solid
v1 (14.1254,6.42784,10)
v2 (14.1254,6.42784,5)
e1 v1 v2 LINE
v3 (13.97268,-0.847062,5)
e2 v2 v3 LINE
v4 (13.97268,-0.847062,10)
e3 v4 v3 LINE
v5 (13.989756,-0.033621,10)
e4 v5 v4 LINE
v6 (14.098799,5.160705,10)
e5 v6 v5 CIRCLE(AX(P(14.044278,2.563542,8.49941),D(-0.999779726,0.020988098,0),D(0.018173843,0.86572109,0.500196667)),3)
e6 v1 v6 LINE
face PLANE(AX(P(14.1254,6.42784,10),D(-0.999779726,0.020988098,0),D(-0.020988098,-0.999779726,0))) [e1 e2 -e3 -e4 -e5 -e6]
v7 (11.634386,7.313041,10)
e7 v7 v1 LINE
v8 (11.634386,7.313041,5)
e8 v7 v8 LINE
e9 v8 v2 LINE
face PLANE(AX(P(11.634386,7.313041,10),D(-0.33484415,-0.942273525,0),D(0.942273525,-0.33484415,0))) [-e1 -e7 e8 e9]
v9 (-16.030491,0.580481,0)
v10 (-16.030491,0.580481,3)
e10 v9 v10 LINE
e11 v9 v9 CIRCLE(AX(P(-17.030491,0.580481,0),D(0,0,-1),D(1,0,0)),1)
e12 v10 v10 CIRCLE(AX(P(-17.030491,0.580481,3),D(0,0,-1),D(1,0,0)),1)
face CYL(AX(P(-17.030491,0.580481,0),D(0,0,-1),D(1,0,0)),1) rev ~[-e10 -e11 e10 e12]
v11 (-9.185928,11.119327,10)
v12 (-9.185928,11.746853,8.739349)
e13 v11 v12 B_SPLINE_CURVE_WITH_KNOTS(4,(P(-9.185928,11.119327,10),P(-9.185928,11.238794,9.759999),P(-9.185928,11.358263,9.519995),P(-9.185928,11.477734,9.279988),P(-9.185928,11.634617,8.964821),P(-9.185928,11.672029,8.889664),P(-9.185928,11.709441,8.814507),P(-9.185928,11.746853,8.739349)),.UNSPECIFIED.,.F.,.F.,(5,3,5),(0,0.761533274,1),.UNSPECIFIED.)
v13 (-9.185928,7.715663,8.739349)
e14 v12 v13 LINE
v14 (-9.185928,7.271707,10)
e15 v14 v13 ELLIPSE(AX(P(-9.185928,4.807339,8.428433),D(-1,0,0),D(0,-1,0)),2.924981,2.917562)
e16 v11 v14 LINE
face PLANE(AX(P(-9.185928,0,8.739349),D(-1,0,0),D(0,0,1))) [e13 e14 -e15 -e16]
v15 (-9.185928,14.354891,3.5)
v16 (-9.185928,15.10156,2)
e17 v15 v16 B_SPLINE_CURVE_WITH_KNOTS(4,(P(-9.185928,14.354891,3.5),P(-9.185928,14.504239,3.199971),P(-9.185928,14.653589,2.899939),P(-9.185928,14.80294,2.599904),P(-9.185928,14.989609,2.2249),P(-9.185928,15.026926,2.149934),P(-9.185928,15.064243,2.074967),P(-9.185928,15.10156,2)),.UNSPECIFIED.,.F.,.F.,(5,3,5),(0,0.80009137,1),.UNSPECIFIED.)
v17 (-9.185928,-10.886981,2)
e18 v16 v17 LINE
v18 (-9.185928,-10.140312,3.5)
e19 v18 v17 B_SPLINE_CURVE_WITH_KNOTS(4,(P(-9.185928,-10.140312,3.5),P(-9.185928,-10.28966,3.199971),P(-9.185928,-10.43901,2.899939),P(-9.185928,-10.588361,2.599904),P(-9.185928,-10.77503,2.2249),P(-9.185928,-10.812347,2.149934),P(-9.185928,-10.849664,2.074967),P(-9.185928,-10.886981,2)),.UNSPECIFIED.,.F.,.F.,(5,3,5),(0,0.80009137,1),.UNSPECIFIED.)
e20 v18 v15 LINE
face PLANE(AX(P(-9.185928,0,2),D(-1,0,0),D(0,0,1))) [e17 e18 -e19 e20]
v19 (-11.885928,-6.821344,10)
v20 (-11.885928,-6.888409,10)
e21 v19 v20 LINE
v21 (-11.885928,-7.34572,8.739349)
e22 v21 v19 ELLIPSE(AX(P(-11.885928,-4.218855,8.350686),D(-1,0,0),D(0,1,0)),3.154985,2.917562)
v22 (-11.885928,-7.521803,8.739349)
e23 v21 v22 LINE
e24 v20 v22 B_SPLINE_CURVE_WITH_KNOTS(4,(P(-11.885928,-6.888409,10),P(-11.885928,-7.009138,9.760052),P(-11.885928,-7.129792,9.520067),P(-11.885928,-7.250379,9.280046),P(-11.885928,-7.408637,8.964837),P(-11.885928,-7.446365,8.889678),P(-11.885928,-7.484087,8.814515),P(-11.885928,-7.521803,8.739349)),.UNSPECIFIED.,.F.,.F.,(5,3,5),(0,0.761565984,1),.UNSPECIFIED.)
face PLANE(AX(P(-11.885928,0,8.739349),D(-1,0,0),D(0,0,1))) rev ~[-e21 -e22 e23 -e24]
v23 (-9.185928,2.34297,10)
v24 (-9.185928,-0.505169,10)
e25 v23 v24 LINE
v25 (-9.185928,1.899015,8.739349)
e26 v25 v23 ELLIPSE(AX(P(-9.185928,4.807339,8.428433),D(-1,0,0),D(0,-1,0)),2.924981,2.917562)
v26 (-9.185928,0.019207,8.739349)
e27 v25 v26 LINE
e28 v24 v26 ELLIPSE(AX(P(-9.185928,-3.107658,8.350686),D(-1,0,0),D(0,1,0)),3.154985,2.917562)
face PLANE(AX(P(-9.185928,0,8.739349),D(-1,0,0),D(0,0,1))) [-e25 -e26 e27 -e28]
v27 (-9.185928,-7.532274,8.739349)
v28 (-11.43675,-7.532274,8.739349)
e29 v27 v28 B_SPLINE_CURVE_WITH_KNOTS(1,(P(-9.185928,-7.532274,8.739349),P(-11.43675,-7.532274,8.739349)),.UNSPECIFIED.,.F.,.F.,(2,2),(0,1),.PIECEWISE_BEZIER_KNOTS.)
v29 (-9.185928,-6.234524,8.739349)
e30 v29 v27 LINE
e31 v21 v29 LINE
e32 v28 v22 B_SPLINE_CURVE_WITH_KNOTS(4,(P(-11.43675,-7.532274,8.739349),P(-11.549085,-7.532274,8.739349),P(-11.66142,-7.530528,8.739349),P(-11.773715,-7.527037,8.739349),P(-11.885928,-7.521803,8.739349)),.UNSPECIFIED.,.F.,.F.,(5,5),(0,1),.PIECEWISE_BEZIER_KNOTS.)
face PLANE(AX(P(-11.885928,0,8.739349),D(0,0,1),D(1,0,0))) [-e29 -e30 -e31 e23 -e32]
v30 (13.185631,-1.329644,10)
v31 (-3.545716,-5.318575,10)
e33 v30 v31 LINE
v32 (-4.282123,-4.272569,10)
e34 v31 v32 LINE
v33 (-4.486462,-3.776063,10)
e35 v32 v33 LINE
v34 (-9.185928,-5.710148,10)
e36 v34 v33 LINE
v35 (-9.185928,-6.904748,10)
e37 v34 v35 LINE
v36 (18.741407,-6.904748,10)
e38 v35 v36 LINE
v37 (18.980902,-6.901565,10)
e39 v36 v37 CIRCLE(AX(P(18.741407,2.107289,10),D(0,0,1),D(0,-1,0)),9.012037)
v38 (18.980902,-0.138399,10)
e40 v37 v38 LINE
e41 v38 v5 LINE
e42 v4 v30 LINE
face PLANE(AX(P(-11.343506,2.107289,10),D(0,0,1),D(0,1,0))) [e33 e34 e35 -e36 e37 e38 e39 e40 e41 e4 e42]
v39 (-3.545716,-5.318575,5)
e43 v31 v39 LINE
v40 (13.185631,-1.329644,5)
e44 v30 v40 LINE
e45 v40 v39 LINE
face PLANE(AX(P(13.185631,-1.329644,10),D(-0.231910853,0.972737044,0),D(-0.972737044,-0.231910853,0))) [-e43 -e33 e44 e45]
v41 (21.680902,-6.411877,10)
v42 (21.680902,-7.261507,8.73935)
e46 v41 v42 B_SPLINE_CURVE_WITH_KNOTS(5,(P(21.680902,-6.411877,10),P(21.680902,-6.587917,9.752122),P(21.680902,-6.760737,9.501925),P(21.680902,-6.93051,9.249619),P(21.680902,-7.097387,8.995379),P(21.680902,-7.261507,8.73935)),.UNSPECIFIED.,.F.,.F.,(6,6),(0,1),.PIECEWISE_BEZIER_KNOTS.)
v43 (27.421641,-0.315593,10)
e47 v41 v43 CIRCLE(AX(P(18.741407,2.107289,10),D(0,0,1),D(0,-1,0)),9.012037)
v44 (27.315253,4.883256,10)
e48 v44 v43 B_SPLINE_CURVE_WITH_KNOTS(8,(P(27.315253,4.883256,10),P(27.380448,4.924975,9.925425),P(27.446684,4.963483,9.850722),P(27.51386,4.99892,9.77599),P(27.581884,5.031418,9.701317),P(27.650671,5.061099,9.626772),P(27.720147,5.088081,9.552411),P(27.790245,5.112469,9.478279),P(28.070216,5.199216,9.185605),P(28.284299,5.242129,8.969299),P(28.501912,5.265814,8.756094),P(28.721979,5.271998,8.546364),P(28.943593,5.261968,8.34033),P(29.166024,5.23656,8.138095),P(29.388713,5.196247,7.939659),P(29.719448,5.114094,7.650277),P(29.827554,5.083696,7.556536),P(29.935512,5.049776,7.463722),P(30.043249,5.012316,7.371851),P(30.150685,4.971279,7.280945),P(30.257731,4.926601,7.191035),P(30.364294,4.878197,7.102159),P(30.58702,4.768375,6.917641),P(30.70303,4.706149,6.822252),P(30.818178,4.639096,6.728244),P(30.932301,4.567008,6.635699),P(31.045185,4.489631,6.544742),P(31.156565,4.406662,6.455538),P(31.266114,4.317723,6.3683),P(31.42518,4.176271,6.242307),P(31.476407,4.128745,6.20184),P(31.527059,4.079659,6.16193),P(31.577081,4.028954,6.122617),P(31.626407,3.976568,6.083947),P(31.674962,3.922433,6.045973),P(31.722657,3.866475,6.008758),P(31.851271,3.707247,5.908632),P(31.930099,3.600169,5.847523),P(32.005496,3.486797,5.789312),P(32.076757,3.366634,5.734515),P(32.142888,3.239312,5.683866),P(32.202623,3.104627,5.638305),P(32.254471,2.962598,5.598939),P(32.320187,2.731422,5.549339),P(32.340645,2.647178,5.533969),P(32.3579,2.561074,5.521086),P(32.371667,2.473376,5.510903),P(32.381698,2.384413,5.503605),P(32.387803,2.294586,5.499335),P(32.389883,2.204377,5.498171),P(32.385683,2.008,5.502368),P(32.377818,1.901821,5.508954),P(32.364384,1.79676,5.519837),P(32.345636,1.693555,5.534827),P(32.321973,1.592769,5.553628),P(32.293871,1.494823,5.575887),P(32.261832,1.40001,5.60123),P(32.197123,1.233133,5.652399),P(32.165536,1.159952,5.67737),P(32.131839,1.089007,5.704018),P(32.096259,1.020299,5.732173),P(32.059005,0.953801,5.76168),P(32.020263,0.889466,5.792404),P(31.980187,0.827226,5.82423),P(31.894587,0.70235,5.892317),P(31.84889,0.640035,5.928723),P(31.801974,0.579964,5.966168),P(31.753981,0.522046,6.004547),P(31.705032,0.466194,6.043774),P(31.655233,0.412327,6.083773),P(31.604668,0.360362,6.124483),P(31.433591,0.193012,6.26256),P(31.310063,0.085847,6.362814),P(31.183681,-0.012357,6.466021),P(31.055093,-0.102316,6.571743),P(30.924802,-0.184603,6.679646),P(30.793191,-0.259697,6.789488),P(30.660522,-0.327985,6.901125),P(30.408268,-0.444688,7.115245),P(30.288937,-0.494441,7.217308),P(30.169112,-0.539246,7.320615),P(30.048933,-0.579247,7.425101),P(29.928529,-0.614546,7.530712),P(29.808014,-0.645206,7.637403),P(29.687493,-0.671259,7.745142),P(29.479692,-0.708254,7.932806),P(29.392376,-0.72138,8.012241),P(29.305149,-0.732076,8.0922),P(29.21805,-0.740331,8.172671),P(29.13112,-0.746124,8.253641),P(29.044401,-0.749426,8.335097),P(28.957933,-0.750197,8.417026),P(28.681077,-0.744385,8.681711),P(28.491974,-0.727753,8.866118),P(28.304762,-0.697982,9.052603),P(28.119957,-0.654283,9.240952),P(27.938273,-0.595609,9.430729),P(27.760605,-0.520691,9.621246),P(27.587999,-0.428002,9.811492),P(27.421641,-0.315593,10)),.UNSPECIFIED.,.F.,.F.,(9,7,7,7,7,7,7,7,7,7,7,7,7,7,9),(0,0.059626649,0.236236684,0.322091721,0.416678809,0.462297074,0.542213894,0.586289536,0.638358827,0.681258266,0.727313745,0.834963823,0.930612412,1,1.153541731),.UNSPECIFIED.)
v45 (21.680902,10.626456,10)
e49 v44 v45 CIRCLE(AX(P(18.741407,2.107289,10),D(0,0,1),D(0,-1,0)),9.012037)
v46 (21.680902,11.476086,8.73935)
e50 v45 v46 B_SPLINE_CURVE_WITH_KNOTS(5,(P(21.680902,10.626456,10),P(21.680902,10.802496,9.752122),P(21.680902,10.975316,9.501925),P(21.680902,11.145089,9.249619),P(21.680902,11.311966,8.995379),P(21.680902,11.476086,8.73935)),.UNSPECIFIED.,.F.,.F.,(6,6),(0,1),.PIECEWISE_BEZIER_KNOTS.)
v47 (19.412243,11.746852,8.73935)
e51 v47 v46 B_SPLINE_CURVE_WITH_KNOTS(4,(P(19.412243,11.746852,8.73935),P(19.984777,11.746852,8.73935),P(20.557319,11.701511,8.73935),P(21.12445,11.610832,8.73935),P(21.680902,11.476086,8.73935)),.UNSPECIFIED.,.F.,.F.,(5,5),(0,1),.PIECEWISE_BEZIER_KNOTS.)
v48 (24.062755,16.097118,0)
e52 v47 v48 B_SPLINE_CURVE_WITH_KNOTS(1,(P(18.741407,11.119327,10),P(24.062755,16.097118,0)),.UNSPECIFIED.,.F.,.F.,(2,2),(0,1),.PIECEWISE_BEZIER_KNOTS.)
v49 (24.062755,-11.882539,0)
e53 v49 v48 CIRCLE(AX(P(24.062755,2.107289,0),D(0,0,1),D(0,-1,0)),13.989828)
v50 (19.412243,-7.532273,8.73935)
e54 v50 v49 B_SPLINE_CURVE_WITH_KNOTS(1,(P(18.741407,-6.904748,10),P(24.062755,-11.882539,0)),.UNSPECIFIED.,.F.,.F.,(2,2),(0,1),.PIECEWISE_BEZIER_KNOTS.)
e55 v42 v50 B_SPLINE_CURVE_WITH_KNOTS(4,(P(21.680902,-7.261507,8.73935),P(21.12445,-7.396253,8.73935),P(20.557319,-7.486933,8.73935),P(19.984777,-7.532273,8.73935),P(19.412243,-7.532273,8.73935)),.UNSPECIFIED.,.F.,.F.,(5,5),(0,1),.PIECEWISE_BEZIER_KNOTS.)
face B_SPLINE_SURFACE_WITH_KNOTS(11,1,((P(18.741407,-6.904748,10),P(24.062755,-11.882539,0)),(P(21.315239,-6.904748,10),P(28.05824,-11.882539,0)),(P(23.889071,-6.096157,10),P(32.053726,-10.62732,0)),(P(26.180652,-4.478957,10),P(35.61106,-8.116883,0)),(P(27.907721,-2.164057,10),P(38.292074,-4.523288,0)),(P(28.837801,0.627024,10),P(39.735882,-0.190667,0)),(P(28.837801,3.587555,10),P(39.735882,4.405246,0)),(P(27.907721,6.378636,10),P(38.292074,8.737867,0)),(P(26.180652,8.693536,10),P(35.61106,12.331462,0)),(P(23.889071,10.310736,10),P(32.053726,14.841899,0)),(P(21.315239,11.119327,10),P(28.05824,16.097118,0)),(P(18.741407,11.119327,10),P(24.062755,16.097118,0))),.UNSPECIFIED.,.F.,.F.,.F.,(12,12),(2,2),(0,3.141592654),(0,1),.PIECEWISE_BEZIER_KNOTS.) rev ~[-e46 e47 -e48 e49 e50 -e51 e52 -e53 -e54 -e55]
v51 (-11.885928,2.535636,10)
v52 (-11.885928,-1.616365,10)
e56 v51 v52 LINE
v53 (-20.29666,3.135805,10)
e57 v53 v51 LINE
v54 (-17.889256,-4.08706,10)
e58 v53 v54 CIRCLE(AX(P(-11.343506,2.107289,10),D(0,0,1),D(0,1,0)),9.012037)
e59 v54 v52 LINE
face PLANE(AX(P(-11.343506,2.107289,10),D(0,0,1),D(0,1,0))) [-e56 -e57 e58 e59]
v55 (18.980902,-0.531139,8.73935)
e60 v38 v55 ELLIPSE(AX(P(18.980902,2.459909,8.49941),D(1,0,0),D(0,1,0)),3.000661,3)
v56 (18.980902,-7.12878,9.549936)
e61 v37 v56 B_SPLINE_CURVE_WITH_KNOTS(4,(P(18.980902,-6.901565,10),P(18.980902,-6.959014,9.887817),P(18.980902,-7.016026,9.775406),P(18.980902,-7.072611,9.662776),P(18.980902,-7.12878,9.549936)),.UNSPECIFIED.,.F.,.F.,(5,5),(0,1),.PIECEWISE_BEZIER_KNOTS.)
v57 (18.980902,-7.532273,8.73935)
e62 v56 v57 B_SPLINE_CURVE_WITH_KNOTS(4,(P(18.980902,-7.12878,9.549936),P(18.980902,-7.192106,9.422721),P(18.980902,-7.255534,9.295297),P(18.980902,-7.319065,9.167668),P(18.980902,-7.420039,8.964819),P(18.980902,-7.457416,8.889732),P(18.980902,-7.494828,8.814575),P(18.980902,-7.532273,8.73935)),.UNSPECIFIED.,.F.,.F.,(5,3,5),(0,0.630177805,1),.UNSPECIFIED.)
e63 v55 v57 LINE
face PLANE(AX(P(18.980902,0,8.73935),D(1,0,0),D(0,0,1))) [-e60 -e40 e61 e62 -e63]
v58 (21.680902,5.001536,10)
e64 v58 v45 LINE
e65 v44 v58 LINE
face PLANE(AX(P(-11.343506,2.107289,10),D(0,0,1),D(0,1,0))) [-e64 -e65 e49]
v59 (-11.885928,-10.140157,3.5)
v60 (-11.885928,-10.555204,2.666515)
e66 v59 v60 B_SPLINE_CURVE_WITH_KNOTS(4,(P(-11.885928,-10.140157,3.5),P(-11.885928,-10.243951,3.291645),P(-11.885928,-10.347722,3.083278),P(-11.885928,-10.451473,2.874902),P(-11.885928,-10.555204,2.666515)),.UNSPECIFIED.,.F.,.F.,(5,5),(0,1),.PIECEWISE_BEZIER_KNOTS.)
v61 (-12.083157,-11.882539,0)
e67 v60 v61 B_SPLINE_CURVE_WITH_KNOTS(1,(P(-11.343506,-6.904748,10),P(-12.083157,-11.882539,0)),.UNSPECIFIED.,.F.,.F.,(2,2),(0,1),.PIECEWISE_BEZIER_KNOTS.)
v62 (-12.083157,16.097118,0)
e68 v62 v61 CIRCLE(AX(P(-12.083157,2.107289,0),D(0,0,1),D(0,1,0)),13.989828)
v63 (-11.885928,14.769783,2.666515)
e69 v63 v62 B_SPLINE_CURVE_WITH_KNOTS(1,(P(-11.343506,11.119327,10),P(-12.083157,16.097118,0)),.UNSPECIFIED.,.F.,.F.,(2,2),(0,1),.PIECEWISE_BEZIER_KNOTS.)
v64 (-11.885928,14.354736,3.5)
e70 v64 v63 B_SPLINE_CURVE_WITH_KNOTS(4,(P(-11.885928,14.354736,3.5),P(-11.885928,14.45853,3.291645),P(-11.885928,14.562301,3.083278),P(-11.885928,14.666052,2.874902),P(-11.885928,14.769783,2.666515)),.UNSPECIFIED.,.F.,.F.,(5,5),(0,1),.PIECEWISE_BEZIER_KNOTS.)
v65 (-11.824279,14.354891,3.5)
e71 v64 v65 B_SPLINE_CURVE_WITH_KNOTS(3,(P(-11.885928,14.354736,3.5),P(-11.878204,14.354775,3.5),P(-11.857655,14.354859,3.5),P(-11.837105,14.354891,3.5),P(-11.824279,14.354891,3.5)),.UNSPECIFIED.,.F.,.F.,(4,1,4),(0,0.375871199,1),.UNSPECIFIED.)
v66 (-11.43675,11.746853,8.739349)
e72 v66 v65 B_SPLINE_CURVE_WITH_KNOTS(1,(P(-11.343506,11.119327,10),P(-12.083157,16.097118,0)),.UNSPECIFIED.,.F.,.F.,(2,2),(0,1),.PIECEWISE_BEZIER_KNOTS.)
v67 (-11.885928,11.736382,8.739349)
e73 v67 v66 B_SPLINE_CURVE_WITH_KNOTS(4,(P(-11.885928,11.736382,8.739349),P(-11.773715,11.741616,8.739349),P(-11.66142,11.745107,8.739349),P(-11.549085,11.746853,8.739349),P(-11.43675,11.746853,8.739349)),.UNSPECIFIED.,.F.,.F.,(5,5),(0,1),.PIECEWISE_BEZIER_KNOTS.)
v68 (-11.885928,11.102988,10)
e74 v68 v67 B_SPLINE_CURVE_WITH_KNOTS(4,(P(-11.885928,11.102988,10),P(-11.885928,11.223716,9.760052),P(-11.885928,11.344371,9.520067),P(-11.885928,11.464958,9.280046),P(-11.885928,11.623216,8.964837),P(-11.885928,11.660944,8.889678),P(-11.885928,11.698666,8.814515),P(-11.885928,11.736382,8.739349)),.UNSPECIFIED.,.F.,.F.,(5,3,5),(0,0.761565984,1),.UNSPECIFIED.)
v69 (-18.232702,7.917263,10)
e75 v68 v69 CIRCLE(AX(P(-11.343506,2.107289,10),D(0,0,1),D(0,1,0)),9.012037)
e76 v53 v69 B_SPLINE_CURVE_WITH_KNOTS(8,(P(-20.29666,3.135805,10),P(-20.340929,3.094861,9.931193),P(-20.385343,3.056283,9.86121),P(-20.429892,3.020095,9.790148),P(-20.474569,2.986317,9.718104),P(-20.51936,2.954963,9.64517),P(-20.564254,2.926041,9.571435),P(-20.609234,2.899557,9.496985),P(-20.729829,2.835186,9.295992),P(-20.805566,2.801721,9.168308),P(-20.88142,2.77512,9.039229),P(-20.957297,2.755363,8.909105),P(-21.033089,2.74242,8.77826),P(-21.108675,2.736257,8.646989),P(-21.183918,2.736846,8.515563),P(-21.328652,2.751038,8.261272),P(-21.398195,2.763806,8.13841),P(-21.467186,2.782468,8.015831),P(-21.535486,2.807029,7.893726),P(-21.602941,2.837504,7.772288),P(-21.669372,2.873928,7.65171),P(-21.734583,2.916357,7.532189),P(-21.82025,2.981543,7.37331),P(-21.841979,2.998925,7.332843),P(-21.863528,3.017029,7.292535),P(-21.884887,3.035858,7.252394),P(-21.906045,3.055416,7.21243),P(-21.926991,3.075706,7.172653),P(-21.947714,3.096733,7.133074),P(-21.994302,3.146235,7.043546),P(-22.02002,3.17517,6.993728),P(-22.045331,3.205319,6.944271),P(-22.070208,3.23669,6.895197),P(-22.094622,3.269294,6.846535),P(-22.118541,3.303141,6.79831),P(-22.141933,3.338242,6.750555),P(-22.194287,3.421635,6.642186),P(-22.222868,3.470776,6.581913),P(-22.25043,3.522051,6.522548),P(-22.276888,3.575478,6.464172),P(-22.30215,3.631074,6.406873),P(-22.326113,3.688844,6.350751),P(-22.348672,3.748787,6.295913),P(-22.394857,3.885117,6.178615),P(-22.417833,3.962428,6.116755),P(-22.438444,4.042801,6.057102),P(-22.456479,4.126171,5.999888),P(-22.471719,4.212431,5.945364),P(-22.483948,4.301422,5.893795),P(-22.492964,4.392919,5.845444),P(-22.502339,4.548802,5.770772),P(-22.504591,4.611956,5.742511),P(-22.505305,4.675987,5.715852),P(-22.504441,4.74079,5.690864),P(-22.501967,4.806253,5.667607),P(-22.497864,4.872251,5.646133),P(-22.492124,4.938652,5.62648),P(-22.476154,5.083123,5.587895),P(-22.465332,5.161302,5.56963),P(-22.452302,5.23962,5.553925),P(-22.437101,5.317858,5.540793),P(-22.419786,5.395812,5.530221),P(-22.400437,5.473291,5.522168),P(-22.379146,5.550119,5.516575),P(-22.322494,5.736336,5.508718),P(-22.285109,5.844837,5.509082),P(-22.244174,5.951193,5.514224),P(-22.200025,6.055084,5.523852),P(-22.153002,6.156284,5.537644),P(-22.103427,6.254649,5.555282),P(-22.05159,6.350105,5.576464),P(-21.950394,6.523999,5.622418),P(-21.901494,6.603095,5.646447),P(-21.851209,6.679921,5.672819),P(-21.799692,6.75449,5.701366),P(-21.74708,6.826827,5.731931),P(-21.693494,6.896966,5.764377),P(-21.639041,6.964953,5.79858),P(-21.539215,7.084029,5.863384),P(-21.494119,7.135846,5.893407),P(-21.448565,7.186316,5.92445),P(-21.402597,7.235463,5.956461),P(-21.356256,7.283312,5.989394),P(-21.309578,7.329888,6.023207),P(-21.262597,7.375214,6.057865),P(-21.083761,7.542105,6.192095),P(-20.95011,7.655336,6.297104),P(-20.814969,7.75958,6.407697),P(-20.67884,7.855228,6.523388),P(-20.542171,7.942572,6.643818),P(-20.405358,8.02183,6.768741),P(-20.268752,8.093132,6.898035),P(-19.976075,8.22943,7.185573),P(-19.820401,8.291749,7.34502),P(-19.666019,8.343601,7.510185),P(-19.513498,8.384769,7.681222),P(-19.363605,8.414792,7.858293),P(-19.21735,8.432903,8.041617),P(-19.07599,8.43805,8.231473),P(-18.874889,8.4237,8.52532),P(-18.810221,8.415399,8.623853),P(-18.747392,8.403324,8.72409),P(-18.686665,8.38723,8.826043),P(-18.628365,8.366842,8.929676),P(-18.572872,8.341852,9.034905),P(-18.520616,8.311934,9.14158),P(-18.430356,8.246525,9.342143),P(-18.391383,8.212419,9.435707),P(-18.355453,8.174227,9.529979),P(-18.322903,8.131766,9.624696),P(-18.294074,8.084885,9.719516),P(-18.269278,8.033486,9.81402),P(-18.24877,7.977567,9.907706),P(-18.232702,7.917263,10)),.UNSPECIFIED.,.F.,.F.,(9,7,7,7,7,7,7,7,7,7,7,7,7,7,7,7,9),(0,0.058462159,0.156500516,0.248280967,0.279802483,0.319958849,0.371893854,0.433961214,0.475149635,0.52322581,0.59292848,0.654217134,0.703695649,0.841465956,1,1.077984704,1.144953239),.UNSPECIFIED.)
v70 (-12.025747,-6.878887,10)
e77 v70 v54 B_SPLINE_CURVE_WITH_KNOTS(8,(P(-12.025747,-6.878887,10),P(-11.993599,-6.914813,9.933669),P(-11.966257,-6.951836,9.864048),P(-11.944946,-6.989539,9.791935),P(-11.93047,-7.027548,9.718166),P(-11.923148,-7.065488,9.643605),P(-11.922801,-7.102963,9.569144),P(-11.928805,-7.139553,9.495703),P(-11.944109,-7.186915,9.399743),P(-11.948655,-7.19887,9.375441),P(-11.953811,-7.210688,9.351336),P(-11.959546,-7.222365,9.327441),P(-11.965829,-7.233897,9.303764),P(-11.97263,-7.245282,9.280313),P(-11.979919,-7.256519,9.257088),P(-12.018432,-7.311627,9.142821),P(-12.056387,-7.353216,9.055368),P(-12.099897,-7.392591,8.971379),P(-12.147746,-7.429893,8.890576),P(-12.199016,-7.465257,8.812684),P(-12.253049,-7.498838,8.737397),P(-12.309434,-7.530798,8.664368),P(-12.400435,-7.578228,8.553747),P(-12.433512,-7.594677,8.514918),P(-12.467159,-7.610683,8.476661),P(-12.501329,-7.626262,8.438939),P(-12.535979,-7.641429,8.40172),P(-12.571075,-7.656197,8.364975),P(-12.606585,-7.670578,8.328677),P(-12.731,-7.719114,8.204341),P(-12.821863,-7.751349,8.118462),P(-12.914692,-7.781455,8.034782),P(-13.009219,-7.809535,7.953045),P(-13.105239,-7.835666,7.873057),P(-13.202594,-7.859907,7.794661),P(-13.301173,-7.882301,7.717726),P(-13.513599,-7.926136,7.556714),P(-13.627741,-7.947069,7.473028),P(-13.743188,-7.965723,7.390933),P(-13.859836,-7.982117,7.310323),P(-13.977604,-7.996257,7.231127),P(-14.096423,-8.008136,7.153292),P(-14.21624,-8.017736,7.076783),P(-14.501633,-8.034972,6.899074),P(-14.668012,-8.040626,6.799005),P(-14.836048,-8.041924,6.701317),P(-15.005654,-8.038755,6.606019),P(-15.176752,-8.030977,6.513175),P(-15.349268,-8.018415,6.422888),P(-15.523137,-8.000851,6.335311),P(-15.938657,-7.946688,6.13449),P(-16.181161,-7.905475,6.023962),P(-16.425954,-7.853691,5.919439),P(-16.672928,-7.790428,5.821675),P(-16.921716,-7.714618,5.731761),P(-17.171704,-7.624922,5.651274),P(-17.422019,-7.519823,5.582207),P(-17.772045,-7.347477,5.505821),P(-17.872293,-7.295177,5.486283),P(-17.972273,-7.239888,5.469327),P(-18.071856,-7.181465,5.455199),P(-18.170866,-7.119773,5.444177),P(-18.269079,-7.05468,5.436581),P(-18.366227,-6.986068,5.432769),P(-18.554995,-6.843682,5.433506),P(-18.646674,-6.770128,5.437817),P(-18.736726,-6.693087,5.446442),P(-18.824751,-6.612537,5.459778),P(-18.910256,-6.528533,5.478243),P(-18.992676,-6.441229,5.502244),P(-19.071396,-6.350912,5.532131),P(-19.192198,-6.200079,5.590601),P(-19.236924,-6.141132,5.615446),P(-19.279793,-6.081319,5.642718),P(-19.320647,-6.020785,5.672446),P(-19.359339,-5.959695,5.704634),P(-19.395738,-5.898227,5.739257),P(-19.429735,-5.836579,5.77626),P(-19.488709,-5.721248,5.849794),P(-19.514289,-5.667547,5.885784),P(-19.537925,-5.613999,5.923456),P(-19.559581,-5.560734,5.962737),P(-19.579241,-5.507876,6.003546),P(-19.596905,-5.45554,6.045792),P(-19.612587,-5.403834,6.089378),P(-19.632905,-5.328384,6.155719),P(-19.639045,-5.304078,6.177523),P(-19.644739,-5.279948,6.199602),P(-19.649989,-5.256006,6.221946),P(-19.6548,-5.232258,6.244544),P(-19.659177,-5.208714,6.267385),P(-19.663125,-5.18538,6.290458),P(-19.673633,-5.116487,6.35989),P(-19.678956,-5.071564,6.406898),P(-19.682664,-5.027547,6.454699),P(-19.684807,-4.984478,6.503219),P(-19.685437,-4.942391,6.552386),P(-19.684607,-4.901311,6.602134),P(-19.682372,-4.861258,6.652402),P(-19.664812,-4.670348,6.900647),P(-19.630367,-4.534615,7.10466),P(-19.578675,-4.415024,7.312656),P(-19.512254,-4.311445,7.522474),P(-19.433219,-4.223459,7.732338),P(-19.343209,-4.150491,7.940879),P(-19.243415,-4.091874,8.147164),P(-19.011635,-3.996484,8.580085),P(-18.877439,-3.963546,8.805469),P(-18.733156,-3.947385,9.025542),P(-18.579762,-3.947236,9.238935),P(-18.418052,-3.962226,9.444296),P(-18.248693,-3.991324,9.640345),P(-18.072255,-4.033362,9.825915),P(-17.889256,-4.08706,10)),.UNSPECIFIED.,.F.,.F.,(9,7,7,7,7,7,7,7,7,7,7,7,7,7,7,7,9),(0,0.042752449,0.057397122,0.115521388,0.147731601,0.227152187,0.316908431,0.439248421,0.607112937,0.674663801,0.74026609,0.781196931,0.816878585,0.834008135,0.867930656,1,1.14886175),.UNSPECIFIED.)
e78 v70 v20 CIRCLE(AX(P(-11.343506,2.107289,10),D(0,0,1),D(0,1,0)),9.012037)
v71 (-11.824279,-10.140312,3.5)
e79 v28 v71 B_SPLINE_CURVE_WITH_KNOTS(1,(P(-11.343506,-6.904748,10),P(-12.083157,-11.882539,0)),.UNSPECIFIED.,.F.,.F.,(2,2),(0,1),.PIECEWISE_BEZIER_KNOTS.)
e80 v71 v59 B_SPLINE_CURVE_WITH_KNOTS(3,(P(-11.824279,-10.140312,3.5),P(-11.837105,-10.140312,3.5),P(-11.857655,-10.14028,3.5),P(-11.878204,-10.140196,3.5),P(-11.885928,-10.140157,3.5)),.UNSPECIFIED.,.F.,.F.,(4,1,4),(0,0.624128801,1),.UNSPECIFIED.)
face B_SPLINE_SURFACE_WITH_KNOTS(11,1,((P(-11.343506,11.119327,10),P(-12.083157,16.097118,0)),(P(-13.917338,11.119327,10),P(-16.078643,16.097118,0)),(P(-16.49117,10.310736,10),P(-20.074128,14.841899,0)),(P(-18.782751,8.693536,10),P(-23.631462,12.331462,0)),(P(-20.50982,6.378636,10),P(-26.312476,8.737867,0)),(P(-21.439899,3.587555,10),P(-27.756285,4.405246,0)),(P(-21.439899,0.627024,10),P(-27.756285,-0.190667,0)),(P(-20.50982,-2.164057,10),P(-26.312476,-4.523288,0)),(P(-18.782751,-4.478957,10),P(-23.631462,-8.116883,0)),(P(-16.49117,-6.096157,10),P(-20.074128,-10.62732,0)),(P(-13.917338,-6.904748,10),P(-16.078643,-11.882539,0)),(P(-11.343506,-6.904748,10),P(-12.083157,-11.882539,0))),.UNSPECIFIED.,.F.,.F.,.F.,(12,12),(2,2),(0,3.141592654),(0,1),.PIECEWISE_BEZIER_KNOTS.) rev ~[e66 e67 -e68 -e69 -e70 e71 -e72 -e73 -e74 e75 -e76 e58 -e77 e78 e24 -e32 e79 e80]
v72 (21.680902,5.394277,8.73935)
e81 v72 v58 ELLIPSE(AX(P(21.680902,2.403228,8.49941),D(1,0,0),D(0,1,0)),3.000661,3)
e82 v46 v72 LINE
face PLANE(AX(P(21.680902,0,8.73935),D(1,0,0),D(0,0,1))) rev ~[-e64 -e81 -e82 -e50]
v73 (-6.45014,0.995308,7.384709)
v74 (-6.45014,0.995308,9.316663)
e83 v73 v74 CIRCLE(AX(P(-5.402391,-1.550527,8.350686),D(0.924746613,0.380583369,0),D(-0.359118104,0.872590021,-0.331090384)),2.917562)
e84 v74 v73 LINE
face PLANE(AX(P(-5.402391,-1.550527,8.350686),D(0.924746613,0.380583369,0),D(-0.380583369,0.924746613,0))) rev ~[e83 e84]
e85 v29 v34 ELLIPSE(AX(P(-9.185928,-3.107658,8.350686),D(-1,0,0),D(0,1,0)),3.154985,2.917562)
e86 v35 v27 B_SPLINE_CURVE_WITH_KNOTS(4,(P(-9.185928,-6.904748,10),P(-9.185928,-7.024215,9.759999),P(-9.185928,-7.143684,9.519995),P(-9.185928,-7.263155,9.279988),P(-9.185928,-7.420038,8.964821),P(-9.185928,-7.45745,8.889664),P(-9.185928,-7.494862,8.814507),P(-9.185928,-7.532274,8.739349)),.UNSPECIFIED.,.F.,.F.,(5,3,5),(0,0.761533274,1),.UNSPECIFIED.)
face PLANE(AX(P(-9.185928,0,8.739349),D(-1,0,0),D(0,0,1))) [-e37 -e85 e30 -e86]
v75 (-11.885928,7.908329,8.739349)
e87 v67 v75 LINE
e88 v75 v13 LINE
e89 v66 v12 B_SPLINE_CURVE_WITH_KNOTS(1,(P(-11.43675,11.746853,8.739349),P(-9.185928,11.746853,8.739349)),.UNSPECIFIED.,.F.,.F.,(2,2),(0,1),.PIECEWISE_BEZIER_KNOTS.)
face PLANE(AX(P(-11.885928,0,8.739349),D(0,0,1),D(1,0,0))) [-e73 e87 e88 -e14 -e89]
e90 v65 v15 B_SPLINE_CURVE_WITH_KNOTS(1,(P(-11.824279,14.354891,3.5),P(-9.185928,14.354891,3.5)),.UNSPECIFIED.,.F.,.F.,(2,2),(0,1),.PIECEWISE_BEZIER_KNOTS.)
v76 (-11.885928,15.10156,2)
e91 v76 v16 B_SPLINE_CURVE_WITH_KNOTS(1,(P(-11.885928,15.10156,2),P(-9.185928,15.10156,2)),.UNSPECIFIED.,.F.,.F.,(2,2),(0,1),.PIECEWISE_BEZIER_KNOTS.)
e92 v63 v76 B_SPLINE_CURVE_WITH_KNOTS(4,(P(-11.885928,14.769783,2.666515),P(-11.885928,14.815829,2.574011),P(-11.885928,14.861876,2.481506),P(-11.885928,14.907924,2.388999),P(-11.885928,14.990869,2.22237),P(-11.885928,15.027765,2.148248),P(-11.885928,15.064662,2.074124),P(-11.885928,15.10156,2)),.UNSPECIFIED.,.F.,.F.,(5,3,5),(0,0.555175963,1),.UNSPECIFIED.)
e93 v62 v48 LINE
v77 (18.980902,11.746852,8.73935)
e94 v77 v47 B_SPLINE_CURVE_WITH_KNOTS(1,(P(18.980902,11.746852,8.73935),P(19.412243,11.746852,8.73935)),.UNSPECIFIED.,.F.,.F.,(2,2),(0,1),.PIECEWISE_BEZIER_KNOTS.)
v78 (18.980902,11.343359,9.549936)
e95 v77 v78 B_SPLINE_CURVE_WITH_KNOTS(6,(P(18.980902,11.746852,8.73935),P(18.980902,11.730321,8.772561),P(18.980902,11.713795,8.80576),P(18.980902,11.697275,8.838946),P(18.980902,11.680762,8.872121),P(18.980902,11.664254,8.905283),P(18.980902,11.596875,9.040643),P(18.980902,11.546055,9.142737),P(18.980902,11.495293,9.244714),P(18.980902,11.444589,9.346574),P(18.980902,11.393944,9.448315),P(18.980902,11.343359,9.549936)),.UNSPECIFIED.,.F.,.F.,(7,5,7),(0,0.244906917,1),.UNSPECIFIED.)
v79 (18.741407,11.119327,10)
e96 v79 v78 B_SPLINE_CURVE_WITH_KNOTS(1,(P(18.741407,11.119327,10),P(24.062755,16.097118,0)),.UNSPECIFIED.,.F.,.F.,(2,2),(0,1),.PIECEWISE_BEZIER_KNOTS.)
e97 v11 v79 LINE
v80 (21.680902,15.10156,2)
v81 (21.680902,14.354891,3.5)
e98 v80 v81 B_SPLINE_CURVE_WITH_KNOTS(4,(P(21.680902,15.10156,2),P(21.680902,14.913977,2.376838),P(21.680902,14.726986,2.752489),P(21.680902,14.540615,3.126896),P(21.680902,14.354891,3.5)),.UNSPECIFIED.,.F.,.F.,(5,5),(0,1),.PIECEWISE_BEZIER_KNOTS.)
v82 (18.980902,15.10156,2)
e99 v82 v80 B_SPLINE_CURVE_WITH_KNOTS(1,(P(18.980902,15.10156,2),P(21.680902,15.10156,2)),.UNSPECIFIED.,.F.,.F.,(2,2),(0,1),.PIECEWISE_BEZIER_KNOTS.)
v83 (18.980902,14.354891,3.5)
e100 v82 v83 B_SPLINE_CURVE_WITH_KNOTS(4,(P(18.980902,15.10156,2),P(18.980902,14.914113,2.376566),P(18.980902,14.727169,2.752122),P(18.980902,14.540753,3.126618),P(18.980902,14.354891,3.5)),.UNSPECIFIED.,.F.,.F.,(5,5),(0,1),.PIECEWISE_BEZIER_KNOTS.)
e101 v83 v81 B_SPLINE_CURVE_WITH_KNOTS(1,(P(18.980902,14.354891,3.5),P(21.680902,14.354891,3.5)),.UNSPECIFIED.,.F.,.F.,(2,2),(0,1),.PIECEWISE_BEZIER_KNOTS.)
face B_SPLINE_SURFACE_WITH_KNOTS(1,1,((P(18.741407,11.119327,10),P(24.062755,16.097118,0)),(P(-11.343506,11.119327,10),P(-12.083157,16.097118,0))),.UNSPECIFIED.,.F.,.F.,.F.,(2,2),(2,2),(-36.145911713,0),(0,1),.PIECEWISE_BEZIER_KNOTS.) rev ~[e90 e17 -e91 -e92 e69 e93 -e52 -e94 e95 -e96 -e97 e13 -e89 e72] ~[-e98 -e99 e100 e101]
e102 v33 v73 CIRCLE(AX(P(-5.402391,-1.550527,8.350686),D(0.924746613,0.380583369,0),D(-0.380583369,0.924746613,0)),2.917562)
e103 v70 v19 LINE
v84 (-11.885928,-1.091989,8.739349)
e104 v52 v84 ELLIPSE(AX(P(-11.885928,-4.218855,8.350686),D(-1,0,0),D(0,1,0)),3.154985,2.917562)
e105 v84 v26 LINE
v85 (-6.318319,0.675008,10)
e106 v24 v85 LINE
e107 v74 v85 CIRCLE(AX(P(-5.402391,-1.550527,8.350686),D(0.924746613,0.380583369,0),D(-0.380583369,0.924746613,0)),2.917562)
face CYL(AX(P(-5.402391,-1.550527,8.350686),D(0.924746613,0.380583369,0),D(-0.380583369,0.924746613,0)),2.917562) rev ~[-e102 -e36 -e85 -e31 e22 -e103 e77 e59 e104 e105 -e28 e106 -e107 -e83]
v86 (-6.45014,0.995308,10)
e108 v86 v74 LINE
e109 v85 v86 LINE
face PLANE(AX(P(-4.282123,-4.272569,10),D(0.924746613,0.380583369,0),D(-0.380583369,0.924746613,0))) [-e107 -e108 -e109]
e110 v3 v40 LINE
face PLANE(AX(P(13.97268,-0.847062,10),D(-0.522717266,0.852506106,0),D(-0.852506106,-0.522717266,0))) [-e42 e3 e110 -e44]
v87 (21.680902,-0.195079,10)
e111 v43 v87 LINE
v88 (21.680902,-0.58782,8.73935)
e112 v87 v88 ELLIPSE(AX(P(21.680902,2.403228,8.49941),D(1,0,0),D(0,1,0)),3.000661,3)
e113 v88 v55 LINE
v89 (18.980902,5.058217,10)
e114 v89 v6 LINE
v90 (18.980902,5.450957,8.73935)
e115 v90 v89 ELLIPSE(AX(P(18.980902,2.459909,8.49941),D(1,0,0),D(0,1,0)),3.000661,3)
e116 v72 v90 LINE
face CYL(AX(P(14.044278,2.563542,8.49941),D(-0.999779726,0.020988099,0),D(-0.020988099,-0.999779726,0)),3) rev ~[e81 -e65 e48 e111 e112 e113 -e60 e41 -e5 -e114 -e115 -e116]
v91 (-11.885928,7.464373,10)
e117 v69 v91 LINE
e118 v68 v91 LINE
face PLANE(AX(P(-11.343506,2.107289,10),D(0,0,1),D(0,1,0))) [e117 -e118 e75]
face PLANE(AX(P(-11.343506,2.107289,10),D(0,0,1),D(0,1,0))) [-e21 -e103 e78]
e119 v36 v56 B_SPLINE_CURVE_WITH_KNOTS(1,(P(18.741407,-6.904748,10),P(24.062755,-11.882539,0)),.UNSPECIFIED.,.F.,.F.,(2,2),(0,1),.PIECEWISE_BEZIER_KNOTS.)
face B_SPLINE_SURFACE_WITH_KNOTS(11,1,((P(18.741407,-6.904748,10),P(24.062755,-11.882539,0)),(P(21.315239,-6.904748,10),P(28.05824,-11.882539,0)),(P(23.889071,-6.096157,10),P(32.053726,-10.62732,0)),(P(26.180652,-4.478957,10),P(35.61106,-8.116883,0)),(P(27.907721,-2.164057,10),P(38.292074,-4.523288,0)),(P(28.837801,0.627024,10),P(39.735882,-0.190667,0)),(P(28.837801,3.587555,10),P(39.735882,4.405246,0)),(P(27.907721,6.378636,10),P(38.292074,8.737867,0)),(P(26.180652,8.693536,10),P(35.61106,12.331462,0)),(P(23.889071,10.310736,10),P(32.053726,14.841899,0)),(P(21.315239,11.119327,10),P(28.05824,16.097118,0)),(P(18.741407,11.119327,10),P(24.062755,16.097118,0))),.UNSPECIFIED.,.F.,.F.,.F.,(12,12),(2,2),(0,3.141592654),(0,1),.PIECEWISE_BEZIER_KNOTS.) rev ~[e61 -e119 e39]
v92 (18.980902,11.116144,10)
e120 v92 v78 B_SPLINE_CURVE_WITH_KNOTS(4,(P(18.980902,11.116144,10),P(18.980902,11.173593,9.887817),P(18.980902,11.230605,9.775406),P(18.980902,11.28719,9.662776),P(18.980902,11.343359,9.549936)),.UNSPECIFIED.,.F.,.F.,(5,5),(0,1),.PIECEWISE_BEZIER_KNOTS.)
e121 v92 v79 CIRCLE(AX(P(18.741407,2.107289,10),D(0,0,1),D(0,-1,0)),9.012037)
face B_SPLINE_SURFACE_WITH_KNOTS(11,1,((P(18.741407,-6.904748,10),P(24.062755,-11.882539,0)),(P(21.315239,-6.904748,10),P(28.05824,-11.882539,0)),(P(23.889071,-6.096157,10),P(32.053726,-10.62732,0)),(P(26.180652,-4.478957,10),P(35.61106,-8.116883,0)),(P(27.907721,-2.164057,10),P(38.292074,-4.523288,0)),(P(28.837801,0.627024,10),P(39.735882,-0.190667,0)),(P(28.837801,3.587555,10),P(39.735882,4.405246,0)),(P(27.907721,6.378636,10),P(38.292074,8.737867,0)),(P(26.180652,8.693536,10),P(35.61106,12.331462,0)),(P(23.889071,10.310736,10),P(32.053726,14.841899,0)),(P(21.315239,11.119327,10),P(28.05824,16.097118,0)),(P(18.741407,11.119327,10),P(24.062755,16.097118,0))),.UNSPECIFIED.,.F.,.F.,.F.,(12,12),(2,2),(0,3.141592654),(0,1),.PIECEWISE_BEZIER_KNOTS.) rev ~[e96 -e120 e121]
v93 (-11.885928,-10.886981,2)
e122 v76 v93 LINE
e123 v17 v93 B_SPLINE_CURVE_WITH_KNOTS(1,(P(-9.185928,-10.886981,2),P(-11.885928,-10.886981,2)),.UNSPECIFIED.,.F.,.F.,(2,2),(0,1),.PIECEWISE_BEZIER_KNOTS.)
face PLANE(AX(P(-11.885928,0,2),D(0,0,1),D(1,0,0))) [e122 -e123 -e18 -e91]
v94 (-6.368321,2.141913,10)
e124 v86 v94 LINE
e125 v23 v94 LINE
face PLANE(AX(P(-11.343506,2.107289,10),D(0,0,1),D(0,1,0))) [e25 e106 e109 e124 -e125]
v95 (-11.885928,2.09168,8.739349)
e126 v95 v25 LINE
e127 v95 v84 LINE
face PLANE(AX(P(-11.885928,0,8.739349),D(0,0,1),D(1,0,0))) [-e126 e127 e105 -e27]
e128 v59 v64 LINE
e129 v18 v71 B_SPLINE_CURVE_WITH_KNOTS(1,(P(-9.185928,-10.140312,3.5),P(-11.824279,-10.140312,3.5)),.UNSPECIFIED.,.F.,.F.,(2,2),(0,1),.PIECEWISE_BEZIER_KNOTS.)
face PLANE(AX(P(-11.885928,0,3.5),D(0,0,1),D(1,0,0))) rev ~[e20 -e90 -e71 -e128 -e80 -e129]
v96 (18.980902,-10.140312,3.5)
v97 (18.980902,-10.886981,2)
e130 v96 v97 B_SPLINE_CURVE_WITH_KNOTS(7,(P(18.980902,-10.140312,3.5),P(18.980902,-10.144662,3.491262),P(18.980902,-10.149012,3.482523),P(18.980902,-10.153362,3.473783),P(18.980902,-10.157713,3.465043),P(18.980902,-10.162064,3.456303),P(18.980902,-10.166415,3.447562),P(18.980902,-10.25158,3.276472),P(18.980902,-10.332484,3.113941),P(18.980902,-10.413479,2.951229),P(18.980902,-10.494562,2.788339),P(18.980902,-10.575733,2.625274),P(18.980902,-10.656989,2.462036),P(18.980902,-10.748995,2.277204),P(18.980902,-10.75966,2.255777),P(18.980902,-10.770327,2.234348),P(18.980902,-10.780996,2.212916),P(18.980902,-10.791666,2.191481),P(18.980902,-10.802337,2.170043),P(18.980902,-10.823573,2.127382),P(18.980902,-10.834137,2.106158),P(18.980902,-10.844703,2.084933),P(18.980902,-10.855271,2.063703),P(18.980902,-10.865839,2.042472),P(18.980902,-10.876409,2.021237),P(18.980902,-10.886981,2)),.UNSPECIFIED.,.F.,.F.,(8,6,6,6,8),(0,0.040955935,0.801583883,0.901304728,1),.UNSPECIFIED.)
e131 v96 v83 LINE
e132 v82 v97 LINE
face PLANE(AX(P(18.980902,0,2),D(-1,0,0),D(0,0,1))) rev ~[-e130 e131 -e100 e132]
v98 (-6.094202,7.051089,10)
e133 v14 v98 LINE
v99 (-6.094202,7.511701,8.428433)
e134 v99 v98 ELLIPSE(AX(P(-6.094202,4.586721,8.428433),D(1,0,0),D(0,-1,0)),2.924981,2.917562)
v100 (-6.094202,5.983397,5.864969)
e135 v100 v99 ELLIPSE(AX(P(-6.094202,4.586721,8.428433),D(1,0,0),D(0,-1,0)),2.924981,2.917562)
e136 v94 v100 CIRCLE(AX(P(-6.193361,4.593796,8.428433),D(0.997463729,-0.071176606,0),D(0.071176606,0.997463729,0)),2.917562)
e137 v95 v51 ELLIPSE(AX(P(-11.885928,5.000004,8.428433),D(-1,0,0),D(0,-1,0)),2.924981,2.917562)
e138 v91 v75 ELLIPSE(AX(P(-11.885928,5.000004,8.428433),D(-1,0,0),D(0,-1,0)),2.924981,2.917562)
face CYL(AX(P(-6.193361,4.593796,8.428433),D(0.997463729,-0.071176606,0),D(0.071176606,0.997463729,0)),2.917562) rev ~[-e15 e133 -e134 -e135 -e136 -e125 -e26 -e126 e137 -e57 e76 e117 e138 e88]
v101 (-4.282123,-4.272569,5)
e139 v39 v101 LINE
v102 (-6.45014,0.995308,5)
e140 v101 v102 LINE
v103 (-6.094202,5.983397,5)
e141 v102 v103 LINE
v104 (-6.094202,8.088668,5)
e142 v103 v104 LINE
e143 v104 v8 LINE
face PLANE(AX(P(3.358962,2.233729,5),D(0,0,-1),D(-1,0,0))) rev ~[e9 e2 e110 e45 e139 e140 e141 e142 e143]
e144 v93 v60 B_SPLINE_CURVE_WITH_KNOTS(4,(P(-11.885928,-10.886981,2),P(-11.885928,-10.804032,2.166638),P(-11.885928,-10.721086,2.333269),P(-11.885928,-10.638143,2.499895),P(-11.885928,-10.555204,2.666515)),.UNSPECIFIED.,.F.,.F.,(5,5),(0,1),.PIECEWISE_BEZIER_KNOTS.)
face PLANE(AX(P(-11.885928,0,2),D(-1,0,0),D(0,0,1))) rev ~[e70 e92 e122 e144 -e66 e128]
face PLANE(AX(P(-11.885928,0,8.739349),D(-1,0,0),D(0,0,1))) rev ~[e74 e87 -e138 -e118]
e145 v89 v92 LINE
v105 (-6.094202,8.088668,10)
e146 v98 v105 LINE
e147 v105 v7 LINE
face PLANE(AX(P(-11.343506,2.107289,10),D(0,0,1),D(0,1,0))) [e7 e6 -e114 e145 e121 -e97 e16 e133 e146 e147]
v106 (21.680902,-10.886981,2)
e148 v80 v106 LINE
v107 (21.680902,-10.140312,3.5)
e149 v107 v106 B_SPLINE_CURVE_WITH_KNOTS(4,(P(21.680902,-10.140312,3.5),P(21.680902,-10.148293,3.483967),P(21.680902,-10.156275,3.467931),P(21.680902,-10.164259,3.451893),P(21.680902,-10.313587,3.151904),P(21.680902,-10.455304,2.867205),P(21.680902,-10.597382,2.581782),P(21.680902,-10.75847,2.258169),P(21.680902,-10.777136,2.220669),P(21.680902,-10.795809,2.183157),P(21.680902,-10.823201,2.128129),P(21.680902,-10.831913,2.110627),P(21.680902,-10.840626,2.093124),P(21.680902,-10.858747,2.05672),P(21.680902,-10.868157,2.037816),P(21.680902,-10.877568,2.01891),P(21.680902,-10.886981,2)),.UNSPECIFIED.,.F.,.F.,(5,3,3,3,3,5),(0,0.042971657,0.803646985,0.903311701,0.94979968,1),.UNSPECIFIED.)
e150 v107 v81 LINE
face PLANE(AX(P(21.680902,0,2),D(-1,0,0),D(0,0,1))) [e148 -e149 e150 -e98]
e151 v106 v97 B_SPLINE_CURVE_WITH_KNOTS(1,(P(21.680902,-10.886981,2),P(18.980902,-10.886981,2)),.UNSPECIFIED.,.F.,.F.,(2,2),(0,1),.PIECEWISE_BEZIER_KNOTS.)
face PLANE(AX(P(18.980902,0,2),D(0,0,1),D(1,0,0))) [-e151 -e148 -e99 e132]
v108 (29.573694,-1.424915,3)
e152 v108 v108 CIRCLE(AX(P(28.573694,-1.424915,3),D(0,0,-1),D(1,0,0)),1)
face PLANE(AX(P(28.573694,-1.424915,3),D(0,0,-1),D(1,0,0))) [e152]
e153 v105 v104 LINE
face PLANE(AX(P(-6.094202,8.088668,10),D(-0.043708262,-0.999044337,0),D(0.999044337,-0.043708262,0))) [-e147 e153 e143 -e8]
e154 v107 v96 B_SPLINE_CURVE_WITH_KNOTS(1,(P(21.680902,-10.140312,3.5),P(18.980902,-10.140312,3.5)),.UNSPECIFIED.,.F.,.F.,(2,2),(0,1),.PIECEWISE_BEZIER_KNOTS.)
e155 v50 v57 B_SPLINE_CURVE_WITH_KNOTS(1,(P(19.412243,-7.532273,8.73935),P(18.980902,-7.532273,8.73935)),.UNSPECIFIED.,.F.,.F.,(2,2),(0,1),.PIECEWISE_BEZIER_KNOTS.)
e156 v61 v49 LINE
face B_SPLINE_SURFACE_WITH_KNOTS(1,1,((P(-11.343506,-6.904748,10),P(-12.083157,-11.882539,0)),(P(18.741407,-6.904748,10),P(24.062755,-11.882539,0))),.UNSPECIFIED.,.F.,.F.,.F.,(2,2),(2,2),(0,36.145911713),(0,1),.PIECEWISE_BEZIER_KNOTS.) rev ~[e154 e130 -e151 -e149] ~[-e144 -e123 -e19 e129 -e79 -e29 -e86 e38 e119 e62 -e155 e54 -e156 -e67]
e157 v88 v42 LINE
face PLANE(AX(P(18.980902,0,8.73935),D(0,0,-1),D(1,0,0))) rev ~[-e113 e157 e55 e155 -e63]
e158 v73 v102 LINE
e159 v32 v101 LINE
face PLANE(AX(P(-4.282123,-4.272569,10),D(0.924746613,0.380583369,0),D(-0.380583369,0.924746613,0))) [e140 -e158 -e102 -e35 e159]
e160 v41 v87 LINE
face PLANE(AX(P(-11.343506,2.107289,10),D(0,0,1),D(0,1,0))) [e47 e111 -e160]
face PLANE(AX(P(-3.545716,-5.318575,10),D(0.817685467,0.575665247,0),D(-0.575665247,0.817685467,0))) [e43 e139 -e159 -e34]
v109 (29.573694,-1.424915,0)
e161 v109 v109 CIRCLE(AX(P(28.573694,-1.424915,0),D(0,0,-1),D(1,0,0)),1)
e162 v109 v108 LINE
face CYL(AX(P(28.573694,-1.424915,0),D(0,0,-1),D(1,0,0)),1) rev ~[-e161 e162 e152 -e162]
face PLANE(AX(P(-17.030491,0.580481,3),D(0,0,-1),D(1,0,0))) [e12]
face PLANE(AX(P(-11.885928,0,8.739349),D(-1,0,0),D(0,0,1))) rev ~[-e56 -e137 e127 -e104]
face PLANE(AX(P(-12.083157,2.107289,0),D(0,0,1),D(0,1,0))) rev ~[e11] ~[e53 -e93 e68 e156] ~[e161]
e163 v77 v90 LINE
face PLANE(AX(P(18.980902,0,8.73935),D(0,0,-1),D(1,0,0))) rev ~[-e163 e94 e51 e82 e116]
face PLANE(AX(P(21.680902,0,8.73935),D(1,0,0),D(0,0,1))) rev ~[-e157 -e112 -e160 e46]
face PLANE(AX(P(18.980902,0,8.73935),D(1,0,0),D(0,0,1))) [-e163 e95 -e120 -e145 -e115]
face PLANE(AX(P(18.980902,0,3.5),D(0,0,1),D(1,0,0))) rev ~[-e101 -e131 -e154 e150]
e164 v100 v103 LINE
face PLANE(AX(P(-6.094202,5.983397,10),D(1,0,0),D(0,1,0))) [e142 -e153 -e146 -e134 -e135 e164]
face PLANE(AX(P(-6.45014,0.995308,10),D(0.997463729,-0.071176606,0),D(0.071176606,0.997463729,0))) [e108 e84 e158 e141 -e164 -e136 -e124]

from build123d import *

# Parameters (mm, degrees)
SKETCH008_W     = 2.7
SKETCH008_H     = 1.5
PAD_DEPTH       = 20
POCKET_DEPTH    = 5
SKETCH005_R     = 2.917562
POCKET001_DEPTH = 20.6489723154
SKETCH006_R     = 2.917562
POCKET002_DEPTH = 23.0482544438
SKETCH007_R     = 3
POCKET003_DEPTH = 24.3072127265
SKETCH009_R     = 1
POCKET004_DEPTH = 3


with BuildPart() as pad:
    # Sketch008 → Pad (new body, symmetric)
    with BuildSketch(Plane.XZ):
        with Locations((20.330902, 2.75)):
            Rectangle(SKETCH008_W, SKETCH008_H)
        with Locations((-10.535928, 2.75)):
            Rectangle(SKETCH008_W, SKETCH008_H)
        with Locations((-10.535928, 9.489349)):
            Rectangle(SKETCH008_W, SKETCH008_H)
        with Locations((20.330902, 9.48935)):
            Rectangle(SKETCH008_W, SKETCH008_H)
    extrude(amount=PAD_DEPTH, both=True)


with BuildPart() as pocket004:
    # Sketch002 → Loft section 0
    with BuildSketch(Plane.XY.offset(10)):
        with BuildLine():
            ThreePointArc((-11.343506, 11.1193269091), (-20.3555434545, 2.1072894545), (-11.343506, -6.904748))
            Line((-11.343506, -6.904748), (18.7414073452, -6.904748))
            ThreePointArc((18.7414073452, -6.904748), (27.7534447997, 2.1072894545), (18.7414073452, 11.1193269091))
            Line((-11.343506, 11.1193269091), (18.7414073452, 11.1193269091))
        make_face()
    # Sketch003 → Loft section 1
    with BuildSketch(Plane.XY):
        with BuildLine():
            ThreePointArc((-12.0831570349, 16.0971179095), (-26.0729854896, 2.1072894547), (-12.0831570349, -11.882539))
            Line((-12.0831570349, -11.882539), (24.0627546777, -11.882539))
            ThreePointArc((24.0627546777, -11.882539), (38.0525831324, 2.1072894547), (24.0627546777, 16.0971179095))
            Line((-12.0831570349, 16.0971179095), (24.0627546777, 16.0971179095))
        make_face()
    loft()

    # Sketch001 → Pocket (cut)
    with BuildSketch(Plane.XY.offset(10)):
        Polygon((-6.094202, 5.983397), (-6.094202, 8.088668), (11.634386, 7.313041), (14.1254, 6.42784), (13.97268, -0.847062), (13.185631, -1.329644), (-3.545716, -5.318575), (-4.282123, -4.272569), (-6.45014, 0.995308), align=None)
    extrude(amount=-POCKET_DEPTH, mode=Mode.SUBTRACT)

    # Sketch005 → Pocket001 (cut, through all)
    with BuildSketch(Plane(origin=(-6.4881258553, 0.462977012, 0), x_dir=(0.0711766059, 0.9974637291, 0), z_dir=(0.9974637291, -0.0711766059, 0))):
        with Locations((4.141323, 8.428433)):
            Circle(SKETCH005_R)
    extrude(amount=-POCKET001_DEPTH, mode=Mode.SUBTRACT)

    # Sketch006 → Pocket002 (cut, through all)
    with BuildSketch(Plane(origin=(-5.1655859853, -2.1259187014, 0), x_dir=(-0.3805833694, 0.9247466134, 0), z_dir=(0.9247466134, 0.3805833694, 0))):
        with Locations((0.622215, 8.350686)):
            Circle(SKETCH006_R)
    extrude(amount=-POCKET002_DEPTH, mode=Mode.SUBTRACT)

    # Sketch007 → Pocket003 (cut, through all)
    with BuildSketch(Plane(origin=(13.9842993352, -0.2935685174, 0), x_dir=(-0.0209880985, -0.9997797256, 0), z_dir=(-0.9997797256, 0.0209880985, 0))):
        with Locations((-2.85774, 8.49941)):
            Circle(SKETCH007_R)
    extrude(amount=-POCKET003_DEPTH, mode=Mode.SUBTRACT)

    # Cut002: cut Pad
    add(pad.part, mode=Mode.SUBTRACT)

    # Sketch009 → Pocket004 (cut)
    with BuildSketch(Plane(origin=(0, 0, 0), x_dir=(1, 0, 0), z_dir=(0, 0, -1))):
        with Locations((-17.030491, -0.580481)):
            Circle(SKETCH009_R)
        with Locations((28.573694, 1.424915)):
            Circle(SKETCH009_R)
    extrude(amount=-POCKET004_DEPTH, mode=Mode.SUBTRACT)


solid = pocket004.part
